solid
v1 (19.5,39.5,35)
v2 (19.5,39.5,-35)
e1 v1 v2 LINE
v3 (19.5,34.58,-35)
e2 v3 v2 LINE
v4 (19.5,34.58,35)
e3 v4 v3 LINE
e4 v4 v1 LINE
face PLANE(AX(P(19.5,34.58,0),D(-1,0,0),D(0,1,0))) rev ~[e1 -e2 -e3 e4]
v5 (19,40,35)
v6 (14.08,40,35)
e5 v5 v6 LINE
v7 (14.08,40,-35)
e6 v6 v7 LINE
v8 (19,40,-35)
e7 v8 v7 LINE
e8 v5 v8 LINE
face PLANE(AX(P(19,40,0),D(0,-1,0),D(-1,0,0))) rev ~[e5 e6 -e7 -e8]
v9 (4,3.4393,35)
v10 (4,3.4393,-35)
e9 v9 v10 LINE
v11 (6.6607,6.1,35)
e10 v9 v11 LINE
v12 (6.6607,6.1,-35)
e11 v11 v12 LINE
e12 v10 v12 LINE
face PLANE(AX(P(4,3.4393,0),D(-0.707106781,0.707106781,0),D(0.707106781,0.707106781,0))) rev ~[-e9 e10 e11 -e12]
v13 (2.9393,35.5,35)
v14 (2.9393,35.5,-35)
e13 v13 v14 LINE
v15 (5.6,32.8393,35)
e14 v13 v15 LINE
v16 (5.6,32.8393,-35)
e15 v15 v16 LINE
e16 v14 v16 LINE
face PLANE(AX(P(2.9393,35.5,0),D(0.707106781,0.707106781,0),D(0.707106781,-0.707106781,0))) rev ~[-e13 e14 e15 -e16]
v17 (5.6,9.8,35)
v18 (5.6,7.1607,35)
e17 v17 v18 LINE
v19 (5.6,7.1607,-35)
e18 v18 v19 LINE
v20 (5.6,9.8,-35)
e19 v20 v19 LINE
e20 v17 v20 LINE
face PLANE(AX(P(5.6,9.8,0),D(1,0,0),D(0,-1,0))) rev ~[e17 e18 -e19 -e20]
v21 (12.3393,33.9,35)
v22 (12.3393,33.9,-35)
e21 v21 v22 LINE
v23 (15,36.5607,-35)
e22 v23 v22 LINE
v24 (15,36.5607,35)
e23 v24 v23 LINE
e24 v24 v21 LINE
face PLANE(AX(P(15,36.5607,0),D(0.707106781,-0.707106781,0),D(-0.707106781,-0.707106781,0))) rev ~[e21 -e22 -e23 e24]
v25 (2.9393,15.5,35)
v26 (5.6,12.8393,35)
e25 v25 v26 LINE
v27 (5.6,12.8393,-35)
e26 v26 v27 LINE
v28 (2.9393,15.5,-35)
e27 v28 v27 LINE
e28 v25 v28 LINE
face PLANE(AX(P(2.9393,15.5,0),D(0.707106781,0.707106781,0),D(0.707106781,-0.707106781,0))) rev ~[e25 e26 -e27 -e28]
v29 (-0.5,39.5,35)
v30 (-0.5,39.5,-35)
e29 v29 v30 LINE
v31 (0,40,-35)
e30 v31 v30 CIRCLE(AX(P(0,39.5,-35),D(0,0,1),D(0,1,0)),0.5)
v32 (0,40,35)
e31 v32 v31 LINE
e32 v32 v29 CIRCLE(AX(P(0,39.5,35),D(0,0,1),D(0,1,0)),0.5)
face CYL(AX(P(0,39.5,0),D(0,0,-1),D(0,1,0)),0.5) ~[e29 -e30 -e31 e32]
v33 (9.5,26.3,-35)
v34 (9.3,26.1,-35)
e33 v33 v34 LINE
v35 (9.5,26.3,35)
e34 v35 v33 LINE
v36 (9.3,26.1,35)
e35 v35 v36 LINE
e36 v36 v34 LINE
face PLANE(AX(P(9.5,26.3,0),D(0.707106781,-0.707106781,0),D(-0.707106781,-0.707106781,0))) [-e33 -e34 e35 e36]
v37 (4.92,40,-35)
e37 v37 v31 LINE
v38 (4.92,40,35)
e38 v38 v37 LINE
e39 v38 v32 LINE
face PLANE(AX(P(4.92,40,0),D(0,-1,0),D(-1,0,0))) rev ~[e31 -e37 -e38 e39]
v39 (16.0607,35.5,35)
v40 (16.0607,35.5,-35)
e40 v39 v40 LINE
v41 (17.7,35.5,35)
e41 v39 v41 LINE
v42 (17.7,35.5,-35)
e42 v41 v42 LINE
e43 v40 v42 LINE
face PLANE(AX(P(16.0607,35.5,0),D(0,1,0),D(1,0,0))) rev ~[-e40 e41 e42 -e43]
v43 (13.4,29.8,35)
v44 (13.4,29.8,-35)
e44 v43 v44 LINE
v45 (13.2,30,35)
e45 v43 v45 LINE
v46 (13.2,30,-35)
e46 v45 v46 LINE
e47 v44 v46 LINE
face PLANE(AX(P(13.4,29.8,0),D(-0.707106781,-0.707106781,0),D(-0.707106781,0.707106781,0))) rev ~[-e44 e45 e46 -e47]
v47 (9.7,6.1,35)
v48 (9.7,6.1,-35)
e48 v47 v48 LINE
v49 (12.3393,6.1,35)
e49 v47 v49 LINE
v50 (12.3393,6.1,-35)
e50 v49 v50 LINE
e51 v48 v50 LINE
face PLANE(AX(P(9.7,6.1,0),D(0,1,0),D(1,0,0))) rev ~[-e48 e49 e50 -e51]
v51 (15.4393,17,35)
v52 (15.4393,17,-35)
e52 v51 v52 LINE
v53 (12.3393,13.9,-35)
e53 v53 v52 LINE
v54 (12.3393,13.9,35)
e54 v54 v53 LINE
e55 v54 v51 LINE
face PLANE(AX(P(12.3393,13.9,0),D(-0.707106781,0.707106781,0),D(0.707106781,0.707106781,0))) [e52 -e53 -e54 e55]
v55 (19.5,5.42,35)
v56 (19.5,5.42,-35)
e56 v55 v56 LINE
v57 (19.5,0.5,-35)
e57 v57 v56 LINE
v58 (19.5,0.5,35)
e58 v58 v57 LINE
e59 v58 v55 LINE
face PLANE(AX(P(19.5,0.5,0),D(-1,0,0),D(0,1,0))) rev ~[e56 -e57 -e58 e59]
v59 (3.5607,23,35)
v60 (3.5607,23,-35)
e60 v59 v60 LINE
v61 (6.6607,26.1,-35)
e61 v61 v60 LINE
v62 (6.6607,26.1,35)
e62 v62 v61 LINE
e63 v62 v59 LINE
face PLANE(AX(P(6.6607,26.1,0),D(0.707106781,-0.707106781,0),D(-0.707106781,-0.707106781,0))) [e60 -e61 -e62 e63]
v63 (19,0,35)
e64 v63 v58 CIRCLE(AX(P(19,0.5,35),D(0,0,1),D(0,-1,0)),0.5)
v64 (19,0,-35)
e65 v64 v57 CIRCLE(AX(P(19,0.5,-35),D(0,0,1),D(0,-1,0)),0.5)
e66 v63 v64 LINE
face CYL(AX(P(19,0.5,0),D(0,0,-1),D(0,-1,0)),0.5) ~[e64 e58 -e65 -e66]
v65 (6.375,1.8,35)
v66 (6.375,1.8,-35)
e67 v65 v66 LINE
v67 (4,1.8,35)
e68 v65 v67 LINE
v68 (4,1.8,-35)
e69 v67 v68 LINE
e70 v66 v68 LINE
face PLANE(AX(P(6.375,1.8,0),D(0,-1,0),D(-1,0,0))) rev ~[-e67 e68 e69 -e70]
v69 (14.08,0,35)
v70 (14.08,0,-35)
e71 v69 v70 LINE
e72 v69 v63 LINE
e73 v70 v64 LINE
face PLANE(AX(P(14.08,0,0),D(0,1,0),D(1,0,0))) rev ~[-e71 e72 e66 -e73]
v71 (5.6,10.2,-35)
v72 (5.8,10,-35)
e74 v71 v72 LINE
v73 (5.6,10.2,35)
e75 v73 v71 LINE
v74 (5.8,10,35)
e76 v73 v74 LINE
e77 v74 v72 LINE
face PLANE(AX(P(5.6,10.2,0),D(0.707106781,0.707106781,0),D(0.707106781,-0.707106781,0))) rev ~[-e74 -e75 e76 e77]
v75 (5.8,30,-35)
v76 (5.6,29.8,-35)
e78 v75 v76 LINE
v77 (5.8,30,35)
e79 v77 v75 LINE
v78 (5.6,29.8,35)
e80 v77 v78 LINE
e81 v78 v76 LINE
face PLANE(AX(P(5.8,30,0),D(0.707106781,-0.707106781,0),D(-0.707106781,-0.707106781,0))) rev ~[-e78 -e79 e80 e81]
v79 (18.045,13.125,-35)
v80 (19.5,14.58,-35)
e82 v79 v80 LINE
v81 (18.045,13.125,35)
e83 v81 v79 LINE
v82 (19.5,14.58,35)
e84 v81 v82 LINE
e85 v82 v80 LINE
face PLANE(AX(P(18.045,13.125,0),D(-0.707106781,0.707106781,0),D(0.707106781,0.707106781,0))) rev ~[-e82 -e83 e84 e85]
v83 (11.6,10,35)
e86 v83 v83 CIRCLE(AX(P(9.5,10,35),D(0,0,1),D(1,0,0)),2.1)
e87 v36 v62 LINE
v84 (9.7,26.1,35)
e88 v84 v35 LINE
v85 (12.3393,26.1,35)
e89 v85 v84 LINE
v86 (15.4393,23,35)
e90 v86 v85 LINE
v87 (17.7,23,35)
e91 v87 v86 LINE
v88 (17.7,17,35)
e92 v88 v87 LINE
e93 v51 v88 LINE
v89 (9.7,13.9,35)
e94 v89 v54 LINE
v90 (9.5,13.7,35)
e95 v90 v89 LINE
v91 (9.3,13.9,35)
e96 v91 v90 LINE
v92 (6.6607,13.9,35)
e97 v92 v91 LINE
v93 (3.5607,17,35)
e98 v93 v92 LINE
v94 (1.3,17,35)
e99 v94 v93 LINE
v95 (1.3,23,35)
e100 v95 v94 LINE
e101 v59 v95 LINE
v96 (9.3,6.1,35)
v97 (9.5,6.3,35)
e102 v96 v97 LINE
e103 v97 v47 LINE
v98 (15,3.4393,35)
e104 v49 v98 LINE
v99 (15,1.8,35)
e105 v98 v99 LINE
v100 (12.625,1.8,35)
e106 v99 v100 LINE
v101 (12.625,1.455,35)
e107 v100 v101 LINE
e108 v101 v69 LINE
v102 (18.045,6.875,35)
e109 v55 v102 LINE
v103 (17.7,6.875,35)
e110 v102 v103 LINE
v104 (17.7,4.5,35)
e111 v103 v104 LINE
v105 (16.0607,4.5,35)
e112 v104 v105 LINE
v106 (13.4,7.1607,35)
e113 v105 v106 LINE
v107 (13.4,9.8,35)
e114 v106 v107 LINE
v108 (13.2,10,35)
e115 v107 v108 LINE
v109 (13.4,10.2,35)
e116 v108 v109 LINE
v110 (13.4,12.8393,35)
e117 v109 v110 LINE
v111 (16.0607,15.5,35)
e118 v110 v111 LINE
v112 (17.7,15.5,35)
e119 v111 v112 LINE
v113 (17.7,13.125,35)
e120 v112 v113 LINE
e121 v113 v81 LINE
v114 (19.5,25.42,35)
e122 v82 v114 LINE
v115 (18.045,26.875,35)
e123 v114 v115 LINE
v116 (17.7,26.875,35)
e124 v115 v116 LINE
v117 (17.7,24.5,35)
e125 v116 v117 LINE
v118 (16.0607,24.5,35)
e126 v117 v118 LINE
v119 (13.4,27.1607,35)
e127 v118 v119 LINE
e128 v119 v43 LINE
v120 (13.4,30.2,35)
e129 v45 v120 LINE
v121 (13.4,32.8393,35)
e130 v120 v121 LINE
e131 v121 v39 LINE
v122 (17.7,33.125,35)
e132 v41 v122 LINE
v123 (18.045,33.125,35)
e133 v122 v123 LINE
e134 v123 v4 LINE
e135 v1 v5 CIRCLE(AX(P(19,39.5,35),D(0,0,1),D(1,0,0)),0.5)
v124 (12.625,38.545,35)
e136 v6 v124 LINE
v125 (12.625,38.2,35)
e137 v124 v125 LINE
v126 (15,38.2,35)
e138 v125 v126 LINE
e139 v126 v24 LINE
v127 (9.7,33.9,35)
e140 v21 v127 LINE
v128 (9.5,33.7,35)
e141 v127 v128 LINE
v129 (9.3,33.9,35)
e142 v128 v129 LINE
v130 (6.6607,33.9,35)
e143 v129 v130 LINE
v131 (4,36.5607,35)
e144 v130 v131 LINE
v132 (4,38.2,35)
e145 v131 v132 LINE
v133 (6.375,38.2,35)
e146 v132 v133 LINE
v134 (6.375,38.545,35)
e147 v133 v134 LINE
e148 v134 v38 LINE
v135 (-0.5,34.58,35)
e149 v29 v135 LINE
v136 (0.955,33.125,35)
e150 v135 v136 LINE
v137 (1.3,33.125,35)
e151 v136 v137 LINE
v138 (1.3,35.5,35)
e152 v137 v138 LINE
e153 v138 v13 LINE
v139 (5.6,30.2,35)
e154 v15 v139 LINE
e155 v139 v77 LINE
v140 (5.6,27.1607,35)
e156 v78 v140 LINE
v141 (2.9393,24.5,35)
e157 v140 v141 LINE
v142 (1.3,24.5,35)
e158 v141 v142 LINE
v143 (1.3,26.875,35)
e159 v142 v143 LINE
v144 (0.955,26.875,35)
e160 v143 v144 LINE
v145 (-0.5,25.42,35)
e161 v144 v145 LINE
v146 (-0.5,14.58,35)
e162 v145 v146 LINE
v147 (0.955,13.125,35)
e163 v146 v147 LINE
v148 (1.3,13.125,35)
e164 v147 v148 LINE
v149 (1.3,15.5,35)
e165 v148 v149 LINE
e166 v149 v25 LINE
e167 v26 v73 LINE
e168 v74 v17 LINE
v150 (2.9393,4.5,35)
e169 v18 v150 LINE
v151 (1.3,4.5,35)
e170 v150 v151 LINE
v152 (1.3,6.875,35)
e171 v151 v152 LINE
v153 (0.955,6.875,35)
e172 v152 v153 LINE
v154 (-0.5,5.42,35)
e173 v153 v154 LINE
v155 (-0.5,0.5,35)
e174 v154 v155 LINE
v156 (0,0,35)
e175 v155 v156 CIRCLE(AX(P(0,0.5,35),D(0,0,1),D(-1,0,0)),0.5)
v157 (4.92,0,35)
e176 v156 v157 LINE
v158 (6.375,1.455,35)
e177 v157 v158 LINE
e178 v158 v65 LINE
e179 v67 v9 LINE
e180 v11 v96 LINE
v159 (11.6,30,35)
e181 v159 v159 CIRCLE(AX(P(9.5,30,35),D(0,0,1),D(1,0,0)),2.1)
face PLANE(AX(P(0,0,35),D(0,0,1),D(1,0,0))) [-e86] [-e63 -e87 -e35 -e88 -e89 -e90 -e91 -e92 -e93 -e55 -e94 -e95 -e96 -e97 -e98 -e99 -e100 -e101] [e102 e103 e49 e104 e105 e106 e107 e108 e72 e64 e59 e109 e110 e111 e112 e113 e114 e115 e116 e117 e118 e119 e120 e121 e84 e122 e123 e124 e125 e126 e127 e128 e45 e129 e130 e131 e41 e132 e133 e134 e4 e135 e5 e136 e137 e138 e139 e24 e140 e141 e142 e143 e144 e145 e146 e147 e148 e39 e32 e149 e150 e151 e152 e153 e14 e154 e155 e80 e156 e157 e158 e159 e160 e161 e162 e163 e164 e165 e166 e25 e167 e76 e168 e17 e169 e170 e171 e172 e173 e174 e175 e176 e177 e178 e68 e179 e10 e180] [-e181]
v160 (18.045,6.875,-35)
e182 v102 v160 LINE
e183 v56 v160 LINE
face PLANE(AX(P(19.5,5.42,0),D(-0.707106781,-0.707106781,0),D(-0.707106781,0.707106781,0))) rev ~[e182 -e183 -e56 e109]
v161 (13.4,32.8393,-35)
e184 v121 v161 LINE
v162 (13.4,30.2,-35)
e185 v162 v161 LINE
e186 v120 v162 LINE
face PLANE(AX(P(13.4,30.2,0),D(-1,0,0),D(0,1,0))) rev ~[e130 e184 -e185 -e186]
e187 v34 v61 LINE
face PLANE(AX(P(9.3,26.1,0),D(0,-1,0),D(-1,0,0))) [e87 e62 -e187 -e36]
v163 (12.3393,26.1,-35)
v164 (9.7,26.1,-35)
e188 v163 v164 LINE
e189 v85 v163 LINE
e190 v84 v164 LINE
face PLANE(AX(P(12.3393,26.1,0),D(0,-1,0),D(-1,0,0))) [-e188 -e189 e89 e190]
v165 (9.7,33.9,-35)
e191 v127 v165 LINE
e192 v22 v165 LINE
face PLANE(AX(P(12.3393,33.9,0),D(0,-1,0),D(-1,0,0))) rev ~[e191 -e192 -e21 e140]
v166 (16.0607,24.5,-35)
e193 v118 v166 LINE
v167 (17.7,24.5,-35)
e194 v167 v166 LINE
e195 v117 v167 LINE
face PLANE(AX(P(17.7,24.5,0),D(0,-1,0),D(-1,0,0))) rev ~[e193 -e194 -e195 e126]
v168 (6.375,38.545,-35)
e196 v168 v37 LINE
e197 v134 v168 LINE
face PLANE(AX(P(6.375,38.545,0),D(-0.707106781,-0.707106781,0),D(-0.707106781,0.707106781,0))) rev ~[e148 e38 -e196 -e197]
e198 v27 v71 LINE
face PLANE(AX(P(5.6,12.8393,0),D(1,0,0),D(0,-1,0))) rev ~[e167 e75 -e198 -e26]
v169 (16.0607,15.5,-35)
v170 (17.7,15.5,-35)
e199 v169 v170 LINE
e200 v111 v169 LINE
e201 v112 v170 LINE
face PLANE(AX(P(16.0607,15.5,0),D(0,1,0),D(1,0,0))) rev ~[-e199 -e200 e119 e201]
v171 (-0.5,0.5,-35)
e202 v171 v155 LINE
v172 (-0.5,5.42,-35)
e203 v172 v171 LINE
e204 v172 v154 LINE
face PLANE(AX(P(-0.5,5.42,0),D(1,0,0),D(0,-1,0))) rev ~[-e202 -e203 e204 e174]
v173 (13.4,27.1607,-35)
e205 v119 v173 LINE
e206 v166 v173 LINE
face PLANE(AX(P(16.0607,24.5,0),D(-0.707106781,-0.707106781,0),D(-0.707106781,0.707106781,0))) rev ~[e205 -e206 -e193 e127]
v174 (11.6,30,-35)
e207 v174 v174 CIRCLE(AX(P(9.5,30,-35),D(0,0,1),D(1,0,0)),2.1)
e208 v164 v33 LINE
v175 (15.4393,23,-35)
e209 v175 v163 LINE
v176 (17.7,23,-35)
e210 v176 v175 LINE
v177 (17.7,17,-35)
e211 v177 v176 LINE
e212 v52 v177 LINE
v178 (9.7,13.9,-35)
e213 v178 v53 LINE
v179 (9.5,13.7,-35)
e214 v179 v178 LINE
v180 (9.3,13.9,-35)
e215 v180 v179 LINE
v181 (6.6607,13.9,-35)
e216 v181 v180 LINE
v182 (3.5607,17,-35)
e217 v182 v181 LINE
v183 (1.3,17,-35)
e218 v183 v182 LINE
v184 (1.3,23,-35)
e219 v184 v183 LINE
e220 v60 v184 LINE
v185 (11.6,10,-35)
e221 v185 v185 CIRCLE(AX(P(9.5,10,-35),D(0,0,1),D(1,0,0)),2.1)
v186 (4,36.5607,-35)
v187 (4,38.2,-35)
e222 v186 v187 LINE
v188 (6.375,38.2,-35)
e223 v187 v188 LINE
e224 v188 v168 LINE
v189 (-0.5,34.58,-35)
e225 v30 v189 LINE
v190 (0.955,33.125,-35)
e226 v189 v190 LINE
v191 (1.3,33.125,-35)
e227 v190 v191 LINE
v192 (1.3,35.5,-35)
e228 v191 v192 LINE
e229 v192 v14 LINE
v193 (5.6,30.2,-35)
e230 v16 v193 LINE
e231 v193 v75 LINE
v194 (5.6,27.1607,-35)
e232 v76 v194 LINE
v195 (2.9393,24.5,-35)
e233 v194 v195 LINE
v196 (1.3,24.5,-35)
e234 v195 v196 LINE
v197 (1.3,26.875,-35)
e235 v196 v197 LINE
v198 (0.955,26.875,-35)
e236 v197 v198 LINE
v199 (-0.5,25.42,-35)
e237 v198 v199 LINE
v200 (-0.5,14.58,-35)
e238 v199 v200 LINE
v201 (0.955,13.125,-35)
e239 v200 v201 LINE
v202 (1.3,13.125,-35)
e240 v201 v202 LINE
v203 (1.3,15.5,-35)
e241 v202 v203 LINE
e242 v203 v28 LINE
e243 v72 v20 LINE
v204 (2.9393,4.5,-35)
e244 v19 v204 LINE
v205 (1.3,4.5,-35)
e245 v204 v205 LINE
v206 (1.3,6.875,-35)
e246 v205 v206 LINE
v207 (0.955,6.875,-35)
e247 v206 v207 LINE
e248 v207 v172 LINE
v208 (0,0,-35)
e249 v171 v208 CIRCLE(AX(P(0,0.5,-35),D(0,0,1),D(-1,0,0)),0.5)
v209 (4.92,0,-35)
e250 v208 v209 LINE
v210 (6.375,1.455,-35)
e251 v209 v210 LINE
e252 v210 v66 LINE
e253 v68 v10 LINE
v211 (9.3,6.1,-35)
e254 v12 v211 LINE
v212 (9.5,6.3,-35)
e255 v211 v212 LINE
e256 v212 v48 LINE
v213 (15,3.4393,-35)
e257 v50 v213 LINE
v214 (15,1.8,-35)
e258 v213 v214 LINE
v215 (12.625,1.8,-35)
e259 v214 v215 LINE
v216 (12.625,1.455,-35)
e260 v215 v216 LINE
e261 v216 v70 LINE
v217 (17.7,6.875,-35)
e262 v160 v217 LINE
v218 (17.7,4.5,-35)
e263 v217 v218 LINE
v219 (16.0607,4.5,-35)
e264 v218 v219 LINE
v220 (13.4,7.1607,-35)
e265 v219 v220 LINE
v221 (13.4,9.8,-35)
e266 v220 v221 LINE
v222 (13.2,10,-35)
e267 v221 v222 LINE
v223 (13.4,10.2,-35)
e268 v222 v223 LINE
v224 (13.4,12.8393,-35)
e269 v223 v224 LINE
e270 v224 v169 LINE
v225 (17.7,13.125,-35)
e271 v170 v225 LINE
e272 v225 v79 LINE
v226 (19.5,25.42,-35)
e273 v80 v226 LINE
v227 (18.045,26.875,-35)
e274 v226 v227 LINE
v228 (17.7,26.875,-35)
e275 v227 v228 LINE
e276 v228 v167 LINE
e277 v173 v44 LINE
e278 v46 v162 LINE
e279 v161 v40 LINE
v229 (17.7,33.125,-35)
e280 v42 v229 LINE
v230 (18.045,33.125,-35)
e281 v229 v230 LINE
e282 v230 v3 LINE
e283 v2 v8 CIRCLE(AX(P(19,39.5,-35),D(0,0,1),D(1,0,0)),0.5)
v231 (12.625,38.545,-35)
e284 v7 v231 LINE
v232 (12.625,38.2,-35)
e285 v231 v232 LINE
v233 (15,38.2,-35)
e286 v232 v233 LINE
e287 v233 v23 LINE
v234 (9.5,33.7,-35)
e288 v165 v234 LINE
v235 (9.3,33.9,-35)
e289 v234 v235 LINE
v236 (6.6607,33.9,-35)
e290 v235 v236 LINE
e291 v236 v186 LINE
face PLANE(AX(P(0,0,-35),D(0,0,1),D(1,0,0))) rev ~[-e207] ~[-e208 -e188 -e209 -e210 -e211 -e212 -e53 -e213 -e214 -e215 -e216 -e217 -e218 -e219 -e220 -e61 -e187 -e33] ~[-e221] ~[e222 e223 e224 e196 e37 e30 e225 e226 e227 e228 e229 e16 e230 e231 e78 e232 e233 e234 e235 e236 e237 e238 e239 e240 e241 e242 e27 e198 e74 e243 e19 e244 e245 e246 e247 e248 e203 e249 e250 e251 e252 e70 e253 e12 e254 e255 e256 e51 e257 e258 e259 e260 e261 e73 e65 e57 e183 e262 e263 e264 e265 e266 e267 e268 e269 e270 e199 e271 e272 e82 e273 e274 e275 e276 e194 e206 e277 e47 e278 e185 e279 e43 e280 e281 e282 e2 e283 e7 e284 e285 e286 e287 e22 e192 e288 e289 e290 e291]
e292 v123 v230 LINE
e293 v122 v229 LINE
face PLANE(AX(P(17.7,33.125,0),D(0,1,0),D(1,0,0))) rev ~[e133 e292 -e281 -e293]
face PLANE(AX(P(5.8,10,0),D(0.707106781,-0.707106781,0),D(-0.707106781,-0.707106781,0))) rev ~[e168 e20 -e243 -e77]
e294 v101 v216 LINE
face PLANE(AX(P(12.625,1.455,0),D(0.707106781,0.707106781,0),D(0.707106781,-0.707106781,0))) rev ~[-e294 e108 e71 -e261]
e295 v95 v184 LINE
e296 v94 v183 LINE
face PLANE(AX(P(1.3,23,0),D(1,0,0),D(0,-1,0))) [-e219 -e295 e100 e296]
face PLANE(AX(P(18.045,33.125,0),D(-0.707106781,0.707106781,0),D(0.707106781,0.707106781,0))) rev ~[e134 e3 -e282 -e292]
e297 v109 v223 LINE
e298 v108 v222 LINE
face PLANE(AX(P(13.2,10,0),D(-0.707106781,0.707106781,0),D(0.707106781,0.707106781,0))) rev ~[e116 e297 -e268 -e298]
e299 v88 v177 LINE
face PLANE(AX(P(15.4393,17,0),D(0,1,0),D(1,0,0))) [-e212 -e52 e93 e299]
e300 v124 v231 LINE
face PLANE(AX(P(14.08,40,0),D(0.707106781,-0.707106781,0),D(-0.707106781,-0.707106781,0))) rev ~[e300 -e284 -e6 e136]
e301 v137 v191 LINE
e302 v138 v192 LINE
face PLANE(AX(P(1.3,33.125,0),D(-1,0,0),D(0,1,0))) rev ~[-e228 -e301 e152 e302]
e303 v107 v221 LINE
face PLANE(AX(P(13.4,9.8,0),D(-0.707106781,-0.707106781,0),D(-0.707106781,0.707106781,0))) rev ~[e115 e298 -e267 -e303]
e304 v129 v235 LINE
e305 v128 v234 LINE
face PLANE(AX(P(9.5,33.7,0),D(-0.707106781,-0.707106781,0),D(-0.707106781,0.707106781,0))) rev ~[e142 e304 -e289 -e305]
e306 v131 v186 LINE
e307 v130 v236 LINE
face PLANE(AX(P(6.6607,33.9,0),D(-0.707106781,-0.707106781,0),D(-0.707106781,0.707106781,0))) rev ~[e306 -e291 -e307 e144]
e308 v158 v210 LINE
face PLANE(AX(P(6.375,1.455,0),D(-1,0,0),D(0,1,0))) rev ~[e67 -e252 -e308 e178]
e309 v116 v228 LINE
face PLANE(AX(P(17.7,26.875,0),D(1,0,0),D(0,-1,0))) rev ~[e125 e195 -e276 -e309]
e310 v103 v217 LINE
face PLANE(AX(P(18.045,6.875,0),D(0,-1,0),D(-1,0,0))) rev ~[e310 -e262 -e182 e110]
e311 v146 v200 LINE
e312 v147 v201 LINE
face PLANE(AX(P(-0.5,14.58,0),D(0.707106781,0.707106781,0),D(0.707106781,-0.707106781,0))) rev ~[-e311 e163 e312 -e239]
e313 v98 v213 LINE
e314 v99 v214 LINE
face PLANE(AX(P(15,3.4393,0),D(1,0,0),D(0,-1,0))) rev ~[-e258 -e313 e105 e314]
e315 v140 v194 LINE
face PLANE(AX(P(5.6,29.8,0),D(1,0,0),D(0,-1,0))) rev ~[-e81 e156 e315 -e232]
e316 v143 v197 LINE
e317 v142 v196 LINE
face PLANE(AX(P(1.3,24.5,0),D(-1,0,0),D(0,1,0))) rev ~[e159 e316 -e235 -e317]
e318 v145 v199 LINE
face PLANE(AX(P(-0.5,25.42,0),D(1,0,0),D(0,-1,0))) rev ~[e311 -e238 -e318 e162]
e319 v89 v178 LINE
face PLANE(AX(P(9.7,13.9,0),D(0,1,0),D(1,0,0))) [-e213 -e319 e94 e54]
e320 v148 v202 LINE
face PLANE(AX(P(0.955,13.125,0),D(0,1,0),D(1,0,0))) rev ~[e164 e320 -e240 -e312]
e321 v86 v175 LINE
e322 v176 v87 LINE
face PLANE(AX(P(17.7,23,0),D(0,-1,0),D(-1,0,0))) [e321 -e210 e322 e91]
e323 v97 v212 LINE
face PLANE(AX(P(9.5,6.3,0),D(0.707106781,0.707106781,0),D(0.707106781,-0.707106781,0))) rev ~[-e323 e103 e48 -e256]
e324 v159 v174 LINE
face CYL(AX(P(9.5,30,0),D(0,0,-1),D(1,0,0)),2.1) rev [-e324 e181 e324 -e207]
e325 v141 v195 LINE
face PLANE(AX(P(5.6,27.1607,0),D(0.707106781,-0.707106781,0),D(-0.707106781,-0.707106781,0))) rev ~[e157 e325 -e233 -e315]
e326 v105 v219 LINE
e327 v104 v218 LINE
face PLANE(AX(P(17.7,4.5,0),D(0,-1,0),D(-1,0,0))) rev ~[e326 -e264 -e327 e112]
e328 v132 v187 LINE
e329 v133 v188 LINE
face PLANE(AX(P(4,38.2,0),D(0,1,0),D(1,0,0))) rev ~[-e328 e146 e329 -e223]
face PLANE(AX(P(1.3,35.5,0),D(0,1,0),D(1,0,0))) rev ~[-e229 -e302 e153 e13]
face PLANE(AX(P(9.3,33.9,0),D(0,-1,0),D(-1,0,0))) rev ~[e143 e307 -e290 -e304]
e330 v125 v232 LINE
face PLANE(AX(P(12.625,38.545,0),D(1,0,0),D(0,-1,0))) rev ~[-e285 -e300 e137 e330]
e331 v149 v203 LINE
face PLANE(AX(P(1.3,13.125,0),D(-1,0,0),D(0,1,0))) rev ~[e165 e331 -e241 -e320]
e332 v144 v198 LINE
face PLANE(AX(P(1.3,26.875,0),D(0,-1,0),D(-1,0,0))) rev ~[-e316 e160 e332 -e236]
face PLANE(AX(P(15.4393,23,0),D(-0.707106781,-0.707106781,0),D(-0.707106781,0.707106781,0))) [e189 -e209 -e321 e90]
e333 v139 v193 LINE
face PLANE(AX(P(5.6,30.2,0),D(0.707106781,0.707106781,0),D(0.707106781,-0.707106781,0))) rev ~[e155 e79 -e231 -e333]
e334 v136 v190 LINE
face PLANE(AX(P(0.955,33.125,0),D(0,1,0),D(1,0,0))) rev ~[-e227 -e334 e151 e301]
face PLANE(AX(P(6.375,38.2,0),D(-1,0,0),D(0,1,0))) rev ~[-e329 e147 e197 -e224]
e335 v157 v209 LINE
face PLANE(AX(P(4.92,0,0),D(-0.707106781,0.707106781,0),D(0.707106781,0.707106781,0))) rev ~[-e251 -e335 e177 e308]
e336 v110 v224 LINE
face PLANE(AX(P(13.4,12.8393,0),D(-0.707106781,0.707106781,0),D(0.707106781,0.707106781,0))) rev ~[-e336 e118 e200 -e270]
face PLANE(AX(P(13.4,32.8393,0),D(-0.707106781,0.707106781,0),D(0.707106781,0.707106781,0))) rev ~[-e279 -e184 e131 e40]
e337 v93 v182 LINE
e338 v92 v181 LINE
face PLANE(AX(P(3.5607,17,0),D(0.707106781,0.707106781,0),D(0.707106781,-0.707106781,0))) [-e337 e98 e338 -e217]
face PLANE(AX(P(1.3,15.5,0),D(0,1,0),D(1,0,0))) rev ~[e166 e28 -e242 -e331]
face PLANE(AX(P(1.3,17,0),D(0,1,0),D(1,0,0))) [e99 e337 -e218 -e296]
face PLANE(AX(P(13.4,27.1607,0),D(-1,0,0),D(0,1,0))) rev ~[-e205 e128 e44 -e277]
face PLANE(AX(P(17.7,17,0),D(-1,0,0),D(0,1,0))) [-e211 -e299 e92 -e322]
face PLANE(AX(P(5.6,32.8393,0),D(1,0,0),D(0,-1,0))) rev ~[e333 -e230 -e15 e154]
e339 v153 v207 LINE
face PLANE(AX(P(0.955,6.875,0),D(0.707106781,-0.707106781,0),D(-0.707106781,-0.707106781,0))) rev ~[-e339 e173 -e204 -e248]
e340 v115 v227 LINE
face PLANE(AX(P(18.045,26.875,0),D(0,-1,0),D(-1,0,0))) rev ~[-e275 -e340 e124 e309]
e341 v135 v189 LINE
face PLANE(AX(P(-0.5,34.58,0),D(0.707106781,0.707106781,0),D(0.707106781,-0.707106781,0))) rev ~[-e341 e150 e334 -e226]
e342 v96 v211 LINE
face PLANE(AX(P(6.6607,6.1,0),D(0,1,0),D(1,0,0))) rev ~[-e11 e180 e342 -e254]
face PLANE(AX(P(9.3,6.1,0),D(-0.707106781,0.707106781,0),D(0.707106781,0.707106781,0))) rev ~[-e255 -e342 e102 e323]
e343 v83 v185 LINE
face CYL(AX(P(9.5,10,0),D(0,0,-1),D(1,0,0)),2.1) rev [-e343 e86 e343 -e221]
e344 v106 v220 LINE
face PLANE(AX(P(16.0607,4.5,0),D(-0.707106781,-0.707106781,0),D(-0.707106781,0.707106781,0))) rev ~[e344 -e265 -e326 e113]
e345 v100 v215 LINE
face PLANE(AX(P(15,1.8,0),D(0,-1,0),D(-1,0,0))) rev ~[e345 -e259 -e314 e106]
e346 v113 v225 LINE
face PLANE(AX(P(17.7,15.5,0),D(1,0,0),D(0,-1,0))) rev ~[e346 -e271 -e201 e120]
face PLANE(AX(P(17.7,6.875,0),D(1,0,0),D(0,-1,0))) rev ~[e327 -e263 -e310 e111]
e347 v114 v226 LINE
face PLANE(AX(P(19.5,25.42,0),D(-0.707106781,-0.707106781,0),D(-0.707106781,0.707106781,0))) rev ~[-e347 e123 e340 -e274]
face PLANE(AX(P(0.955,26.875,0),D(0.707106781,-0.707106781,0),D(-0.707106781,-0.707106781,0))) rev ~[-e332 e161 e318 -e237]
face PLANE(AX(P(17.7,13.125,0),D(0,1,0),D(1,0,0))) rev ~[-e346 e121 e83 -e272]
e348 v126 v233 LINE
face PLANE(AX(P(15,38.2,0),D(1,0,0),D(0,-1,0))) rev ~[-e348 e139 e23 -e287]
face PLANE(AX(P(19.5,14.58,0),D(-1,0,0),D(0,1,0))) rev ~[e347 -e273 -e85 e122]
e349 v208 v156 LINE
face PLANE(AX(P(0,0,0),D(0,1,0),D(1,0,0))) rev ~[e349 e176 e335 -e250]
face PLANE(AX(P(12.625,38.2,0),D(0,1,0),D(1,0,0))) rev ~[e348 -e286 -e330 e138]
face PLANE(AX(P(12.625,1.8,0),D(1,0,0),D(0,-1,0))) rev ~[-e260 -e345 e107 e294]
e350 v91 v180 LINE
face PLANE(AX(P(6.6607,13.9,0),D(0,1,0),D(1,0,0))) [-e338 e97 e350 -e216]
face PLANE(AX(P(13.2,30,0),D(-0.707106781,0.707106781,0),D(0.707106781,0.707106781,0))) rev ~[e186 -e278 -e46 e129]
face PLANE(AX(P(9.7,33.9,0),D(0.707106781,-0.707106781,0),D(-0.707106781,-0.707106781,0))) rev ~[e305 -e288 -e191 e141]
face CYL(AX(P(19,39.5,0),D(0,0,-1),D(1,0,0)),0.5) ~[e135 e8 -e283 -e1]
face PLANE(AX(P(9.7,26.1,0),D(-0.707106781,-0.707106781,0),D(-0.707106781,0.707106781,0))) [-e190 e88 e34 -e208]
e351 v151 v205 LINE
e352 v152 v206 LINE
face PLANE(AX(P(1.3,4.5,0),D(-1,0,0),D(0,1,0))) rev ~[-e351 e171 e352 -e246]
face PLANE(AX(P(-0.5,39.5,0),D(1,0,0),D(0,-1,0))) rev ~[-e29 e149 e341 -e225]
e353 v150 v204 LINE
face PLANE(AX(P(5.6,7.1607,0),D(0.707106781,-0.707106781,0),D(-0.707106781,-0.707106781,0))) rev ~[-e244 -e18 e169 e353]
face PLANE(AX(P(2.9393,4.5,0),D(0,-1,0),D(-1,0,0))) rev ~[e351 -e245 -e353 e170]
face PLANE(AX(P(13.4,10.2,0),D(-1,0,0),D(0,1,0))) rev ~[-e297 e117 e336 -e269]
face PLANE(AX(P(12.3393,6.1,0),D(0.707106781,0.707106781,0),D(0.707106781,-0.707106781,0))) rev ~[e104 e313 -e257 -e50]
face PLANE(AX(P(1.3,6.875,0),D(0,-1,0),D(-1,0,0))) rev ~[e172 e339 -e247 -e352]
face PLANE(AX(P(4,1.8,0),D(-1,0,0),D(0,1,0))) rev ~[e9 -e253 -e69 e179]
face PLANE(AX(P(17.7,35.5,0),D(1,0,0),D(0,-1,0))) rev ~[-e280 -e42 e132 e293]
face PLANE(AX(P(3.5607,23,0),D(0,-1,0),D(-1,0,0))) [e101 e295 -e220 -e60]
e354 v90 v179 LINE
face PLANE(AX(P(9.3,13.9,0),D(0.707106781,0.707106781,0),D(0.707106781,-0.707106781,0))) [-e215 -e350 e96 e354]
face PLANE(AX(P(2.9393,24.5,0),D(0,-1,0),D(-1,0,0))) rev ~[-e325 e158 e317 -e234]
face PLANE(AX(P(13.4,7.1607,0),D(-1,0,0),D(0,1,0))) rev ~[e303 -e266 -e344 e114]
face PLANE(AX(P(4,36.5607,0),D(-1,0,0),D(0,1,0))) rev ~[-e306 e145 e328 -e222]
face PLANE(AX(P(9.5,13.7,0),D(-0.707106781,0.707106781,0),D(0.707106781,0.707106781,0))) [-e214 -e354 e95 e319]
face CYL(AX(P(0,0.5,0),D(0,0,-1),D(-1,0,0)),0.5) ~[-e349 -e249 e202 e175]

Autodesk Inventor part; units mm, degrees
ref_plane "YZ Plane" through (0, 0, 0) normal (1, 0, 0) x (0, 1, 0)
ref_plane "XZ Plane" through (0, 0, 0) normal (0, 1, 0) x (-1, 0, 0)
ref_plane "XY Plane" through (0, 0, 0) normal (0, 0, 1) x (1, 0, 0)
sketch "Sketch1" plane through (0, 0, 0) normal (0, 0, 1) x (1, 0, 0)
  line L0 (-0.5, 5.42) -> (-0.5, 0.5)
  arc A0 (-0.5, 0.5) -> (0, 0) centre (0, 0.5) ccw
  line L1 (0, 0) -> (4.92, 0)
  line L2 (4.92, 0) -> (6.375, 1.455)
  line L3 (6.375, 1.455) -> (6.375, 1.8)
  line L4 (6.375, 1.8) -> (4, 1.8)
  line L5 (4, 1.8) -> (4, 3.4393)
  line L6 (4, 3.4393) -> (6.6607, 6.1)
  line L7 (6.6607, 6.1) -> (9.3, 6.1)
  line L8 (9.3, 6.1) -> (9.5, 6.3)
  line L9 (9.5, 6.3) -> (9.7, 6.1)
  line L10 (9.7, 6.1) -> (12.3393, 6.1)
  line L11 (12.3393, 6.1) -> (15, 3.4393)
  line L12 (15, 3.4393) -> (15, 1.8)
  line L13 (15, 1.8) -> (12.625, 1.8)
  line L14 (12.625, 1.8) -> (12.625, 1.455)
  line L15 (12.625, 1.455) -> (14.08, 0)
  line L16 (14.08, 0) -> (19, 0)
  arc A1 (19, 0) -> (19.5, 0.5) centre (19, 0.5) ccw
  line L17 (19.5, 0.5) -> (19.5, 5.42)
  line L18 (19.5, 5.42) -> (18.045, 6.875)
  line L19 (18.045, 6.875) -> (17.7, 6.875)
  line L20 (17.7, 6.875) -> (17.7, 4.5)
  line L21 (17.7, 4.5) -> (16.0607, 4.5)
  line L22 (16.0607, 4.5) -> (13.4, 7.1607)
  line L23 (13.4, 7.1607) -> (13.4, 9.8)
  line L24 (13.4, 9.8) -> (13.2, 10)
  line L25 (13.2, 10) -> (13.4, 10.2)
  line L26 (13.4, 10.2) -> (13.4, 12.8393)
  line L27 (13.4, 12.8393) -> (16.0607, 15.5)
  line L28 (16.0607, 15.5) -> (17.7, 15.5)
  line L29 (17.7, 15.5) -> (17.7, 13.125)
  line L30 (17.7, 13.125) -> (18.045, 13.125)
  line L31 (18.045, 13.125) -> (19.5, 14.58)
  line L32 (19.5, 14.58) -> (19.5, 25.42)
  line L33 (19.5, 25.42) -> (18.045, 26.875)
  line L34 (18.045, 26.875) -> (17.7, 26.875)
  line L35 (17.7, 26.875) -> (17.7, 24.5)
  line L36 (17.7, 24.5) -> (16.0607, 24.5)
  line L37 (16.0607, 24.5) -> (13.4, 27.1607)
  line L38 (13.4, 27.1607) -> (13.4, 29.8)
  line L39 (13.4, 29.8) -> (13.2, 30)
  line L40 (13.2, 30) -> (13.4, 30.2)
  line L41 (13.4, 30.2) -> (13.4, 32.8393)
  line L42 (13.4, 32.8393) -> (16.0607, 35.5)
  line L43 (16.0607, 35.5) -> (17.7, 35.5)
  line L44 (17.7, 35.5) -> (17.7, 33.125)
  line L45 (17.7, 33.125) -> (18.045, 33.125)
  line L46 (18.045, 33.125) -> (19.5, 34.58)
  line L47 (19.5, 34.58) -> (19.5, 39.5)
  arc A2 (19.5, 39.5) -> (19, 40) centre (19, 39.5) ccw
  line L48 (19, 40) -> (14.08, 40)
  line L49 (14.08, 40) -> (12.625, 38.545)
  line L50 (12.625, 38.545) -> (12.625, 38.2)
  line L51 (12.625, 38.2) -> (15, 38.2)
  line L52 (15, 38.2) -> (15, 36.5607)
  line L53 (15, 36.5607) -> (12.3393, 33.9)
  line L54 (12.3393, 33.9) -> (9.7, 33.9)
  line L55 (9.7, 33.9) -> (9.5, 33.7)
  line L56 (9.5, 33.7) -> (9.3, 33.9)
  line L57 (9.3, 33.9) -> (6.6607, 33.9)
  line L58 (6.6607, 33.9) -> (4, 36.5607)
  line L59 (4, 36.5607) -> (4, 38.2)
  line L60 (4, 38.2) -> (6.375, 38.2)
  line L61 (6.375, 38.2) -> (6.375, 38.545)
  line L62 (6.375, 38.545) -> (4.92, 40)
  line L63 (4.92, 40) -> (0, 40)
  arc A3 (0, 40) -> (-0.5, 39.5) centre (0, 39.5) ccw
  line L64 (-0.5, 39.5) -> (-0.5, 34.58)
  line L65 (-0.5, 34.58) -> (0.955, 33.125)
  line L66 (0.955, 33.125) -> (1.3, 33.125)
  line L67 (1.3, 33.125) -> (1.3, 35.5)
  line L68 (1.3, 35.5) -> (2.9393, 35.5)
  line L69 (2.9393, 35.5) -> (5.6, 32.8393)
  line L70 (5.6, 32.8393) -> (5.6, 30.2)
  line L71 (5.6, 30.2) -> (5.8, 30)
  line L72 (5.8, 30) -> (5.6, 29.8)
  line L73 (5.6, 29.8) -> (5.6, 27.1607)
  line L74 (5.6, 27.1607) -> (2.9393, 24.5)
  line L75 (2.9393, 24.5) -> (1.3, 24.5)
  line L76 (1.3, 24.5) -> (1.3, 26.875)
  line L77 (1.3, 26.875) -> (0.955, 26.875)
  line L78 (0.955, 26.875) -> (-0.5, 25.42)
  line L79 (-0.5, 25.42) -> (-0.5, 14.58)
  line L80 (-0.5, 14.58) -> (0.955, 13.125)
  line L81 (0.955, 13.125) -> (1.3, 13.125)
  line L82 (1.3, 13.125) -> (1.3, 15.5)
  line L83 (1.3, 15.5) -> (2.9393, 15.5)
  line L84 (2.9393, 15.5) -> (5.6, 12.8393)
  line L85 (5.6, 12.8393) -> (5.6, 10.2)
  line L86 (5.6, 10.2) -> (5.8, 10)
  line L87 (5.8, 10) -> (5.6, 9.8)
  line L88 (5.6, 9.8) -> (5.6, 7.1607)
  line L89 (5.6, 7.1607) -> (2.9393, 4.5)
  line L90 (2.9393, 4.5) -> (1.3, 4.5)
  line L91 (1.3, 4.5) -> (1.3, 6.875)
  line L92 (1.3, 6.875) -> (0.955, 6.875)
  line L93 (0.955, 6.875) -> (-0.5, 5.42)
  line L94 (17.7, 23) -> (15.4393, 23)
  line L95 (17.7, 17) -> (17.7, 23)
  line L96 (15.4393, 17) -> (17.7, 17)
  line L97 (12.3393, 13.9) -> (15.4393, 17)
  line L98 (9.7, 13.9) -> (12.3393, 13.9)
  line L99 (9.5, 13.7) -> (9.7, 13.9)
  line L100 (9.3, 13.9) -> (9.5, 13.7)
  line L101 (6.6607, 13.9) -> (9.3, 13.9)
  line L102 (3.5607, 17) -> (6.6607, 13.9)
  line L103 (1.3, 17) -> (3.5607, 17)
  line L104 (1.3, 23) -> (1.3, 17)
  line L105 (3.5607, 23) -> (1.3, 23)
  line L106 (6.6607, 26.1) -> (3.5607, 23)
  line L107 (9.3, 26.1) -> (6.6607, 26.1)
  line L108 (9.5, 26.3) -> (9.3, 26.1)
  line L109 (9.7, 26.1) -> (9.5, 26.3)
  line L110 (12.3393, 26.1) -> (9.7, 26.1)
  line L111 (15.4393, 23) -> (12.3393, 26.1)
  circle A4 centre (9.5, 30) radius 2.1
  circle A5 centre (9.5, 10) radius 2.1
  point P0 (9.5, 20)
extrude "Extrusion1" add sketch "Sketch1" along normal mid plane 70
properties part number "0008-10-1021  V slot profiles" material "Aluminum 6061-AHC"
